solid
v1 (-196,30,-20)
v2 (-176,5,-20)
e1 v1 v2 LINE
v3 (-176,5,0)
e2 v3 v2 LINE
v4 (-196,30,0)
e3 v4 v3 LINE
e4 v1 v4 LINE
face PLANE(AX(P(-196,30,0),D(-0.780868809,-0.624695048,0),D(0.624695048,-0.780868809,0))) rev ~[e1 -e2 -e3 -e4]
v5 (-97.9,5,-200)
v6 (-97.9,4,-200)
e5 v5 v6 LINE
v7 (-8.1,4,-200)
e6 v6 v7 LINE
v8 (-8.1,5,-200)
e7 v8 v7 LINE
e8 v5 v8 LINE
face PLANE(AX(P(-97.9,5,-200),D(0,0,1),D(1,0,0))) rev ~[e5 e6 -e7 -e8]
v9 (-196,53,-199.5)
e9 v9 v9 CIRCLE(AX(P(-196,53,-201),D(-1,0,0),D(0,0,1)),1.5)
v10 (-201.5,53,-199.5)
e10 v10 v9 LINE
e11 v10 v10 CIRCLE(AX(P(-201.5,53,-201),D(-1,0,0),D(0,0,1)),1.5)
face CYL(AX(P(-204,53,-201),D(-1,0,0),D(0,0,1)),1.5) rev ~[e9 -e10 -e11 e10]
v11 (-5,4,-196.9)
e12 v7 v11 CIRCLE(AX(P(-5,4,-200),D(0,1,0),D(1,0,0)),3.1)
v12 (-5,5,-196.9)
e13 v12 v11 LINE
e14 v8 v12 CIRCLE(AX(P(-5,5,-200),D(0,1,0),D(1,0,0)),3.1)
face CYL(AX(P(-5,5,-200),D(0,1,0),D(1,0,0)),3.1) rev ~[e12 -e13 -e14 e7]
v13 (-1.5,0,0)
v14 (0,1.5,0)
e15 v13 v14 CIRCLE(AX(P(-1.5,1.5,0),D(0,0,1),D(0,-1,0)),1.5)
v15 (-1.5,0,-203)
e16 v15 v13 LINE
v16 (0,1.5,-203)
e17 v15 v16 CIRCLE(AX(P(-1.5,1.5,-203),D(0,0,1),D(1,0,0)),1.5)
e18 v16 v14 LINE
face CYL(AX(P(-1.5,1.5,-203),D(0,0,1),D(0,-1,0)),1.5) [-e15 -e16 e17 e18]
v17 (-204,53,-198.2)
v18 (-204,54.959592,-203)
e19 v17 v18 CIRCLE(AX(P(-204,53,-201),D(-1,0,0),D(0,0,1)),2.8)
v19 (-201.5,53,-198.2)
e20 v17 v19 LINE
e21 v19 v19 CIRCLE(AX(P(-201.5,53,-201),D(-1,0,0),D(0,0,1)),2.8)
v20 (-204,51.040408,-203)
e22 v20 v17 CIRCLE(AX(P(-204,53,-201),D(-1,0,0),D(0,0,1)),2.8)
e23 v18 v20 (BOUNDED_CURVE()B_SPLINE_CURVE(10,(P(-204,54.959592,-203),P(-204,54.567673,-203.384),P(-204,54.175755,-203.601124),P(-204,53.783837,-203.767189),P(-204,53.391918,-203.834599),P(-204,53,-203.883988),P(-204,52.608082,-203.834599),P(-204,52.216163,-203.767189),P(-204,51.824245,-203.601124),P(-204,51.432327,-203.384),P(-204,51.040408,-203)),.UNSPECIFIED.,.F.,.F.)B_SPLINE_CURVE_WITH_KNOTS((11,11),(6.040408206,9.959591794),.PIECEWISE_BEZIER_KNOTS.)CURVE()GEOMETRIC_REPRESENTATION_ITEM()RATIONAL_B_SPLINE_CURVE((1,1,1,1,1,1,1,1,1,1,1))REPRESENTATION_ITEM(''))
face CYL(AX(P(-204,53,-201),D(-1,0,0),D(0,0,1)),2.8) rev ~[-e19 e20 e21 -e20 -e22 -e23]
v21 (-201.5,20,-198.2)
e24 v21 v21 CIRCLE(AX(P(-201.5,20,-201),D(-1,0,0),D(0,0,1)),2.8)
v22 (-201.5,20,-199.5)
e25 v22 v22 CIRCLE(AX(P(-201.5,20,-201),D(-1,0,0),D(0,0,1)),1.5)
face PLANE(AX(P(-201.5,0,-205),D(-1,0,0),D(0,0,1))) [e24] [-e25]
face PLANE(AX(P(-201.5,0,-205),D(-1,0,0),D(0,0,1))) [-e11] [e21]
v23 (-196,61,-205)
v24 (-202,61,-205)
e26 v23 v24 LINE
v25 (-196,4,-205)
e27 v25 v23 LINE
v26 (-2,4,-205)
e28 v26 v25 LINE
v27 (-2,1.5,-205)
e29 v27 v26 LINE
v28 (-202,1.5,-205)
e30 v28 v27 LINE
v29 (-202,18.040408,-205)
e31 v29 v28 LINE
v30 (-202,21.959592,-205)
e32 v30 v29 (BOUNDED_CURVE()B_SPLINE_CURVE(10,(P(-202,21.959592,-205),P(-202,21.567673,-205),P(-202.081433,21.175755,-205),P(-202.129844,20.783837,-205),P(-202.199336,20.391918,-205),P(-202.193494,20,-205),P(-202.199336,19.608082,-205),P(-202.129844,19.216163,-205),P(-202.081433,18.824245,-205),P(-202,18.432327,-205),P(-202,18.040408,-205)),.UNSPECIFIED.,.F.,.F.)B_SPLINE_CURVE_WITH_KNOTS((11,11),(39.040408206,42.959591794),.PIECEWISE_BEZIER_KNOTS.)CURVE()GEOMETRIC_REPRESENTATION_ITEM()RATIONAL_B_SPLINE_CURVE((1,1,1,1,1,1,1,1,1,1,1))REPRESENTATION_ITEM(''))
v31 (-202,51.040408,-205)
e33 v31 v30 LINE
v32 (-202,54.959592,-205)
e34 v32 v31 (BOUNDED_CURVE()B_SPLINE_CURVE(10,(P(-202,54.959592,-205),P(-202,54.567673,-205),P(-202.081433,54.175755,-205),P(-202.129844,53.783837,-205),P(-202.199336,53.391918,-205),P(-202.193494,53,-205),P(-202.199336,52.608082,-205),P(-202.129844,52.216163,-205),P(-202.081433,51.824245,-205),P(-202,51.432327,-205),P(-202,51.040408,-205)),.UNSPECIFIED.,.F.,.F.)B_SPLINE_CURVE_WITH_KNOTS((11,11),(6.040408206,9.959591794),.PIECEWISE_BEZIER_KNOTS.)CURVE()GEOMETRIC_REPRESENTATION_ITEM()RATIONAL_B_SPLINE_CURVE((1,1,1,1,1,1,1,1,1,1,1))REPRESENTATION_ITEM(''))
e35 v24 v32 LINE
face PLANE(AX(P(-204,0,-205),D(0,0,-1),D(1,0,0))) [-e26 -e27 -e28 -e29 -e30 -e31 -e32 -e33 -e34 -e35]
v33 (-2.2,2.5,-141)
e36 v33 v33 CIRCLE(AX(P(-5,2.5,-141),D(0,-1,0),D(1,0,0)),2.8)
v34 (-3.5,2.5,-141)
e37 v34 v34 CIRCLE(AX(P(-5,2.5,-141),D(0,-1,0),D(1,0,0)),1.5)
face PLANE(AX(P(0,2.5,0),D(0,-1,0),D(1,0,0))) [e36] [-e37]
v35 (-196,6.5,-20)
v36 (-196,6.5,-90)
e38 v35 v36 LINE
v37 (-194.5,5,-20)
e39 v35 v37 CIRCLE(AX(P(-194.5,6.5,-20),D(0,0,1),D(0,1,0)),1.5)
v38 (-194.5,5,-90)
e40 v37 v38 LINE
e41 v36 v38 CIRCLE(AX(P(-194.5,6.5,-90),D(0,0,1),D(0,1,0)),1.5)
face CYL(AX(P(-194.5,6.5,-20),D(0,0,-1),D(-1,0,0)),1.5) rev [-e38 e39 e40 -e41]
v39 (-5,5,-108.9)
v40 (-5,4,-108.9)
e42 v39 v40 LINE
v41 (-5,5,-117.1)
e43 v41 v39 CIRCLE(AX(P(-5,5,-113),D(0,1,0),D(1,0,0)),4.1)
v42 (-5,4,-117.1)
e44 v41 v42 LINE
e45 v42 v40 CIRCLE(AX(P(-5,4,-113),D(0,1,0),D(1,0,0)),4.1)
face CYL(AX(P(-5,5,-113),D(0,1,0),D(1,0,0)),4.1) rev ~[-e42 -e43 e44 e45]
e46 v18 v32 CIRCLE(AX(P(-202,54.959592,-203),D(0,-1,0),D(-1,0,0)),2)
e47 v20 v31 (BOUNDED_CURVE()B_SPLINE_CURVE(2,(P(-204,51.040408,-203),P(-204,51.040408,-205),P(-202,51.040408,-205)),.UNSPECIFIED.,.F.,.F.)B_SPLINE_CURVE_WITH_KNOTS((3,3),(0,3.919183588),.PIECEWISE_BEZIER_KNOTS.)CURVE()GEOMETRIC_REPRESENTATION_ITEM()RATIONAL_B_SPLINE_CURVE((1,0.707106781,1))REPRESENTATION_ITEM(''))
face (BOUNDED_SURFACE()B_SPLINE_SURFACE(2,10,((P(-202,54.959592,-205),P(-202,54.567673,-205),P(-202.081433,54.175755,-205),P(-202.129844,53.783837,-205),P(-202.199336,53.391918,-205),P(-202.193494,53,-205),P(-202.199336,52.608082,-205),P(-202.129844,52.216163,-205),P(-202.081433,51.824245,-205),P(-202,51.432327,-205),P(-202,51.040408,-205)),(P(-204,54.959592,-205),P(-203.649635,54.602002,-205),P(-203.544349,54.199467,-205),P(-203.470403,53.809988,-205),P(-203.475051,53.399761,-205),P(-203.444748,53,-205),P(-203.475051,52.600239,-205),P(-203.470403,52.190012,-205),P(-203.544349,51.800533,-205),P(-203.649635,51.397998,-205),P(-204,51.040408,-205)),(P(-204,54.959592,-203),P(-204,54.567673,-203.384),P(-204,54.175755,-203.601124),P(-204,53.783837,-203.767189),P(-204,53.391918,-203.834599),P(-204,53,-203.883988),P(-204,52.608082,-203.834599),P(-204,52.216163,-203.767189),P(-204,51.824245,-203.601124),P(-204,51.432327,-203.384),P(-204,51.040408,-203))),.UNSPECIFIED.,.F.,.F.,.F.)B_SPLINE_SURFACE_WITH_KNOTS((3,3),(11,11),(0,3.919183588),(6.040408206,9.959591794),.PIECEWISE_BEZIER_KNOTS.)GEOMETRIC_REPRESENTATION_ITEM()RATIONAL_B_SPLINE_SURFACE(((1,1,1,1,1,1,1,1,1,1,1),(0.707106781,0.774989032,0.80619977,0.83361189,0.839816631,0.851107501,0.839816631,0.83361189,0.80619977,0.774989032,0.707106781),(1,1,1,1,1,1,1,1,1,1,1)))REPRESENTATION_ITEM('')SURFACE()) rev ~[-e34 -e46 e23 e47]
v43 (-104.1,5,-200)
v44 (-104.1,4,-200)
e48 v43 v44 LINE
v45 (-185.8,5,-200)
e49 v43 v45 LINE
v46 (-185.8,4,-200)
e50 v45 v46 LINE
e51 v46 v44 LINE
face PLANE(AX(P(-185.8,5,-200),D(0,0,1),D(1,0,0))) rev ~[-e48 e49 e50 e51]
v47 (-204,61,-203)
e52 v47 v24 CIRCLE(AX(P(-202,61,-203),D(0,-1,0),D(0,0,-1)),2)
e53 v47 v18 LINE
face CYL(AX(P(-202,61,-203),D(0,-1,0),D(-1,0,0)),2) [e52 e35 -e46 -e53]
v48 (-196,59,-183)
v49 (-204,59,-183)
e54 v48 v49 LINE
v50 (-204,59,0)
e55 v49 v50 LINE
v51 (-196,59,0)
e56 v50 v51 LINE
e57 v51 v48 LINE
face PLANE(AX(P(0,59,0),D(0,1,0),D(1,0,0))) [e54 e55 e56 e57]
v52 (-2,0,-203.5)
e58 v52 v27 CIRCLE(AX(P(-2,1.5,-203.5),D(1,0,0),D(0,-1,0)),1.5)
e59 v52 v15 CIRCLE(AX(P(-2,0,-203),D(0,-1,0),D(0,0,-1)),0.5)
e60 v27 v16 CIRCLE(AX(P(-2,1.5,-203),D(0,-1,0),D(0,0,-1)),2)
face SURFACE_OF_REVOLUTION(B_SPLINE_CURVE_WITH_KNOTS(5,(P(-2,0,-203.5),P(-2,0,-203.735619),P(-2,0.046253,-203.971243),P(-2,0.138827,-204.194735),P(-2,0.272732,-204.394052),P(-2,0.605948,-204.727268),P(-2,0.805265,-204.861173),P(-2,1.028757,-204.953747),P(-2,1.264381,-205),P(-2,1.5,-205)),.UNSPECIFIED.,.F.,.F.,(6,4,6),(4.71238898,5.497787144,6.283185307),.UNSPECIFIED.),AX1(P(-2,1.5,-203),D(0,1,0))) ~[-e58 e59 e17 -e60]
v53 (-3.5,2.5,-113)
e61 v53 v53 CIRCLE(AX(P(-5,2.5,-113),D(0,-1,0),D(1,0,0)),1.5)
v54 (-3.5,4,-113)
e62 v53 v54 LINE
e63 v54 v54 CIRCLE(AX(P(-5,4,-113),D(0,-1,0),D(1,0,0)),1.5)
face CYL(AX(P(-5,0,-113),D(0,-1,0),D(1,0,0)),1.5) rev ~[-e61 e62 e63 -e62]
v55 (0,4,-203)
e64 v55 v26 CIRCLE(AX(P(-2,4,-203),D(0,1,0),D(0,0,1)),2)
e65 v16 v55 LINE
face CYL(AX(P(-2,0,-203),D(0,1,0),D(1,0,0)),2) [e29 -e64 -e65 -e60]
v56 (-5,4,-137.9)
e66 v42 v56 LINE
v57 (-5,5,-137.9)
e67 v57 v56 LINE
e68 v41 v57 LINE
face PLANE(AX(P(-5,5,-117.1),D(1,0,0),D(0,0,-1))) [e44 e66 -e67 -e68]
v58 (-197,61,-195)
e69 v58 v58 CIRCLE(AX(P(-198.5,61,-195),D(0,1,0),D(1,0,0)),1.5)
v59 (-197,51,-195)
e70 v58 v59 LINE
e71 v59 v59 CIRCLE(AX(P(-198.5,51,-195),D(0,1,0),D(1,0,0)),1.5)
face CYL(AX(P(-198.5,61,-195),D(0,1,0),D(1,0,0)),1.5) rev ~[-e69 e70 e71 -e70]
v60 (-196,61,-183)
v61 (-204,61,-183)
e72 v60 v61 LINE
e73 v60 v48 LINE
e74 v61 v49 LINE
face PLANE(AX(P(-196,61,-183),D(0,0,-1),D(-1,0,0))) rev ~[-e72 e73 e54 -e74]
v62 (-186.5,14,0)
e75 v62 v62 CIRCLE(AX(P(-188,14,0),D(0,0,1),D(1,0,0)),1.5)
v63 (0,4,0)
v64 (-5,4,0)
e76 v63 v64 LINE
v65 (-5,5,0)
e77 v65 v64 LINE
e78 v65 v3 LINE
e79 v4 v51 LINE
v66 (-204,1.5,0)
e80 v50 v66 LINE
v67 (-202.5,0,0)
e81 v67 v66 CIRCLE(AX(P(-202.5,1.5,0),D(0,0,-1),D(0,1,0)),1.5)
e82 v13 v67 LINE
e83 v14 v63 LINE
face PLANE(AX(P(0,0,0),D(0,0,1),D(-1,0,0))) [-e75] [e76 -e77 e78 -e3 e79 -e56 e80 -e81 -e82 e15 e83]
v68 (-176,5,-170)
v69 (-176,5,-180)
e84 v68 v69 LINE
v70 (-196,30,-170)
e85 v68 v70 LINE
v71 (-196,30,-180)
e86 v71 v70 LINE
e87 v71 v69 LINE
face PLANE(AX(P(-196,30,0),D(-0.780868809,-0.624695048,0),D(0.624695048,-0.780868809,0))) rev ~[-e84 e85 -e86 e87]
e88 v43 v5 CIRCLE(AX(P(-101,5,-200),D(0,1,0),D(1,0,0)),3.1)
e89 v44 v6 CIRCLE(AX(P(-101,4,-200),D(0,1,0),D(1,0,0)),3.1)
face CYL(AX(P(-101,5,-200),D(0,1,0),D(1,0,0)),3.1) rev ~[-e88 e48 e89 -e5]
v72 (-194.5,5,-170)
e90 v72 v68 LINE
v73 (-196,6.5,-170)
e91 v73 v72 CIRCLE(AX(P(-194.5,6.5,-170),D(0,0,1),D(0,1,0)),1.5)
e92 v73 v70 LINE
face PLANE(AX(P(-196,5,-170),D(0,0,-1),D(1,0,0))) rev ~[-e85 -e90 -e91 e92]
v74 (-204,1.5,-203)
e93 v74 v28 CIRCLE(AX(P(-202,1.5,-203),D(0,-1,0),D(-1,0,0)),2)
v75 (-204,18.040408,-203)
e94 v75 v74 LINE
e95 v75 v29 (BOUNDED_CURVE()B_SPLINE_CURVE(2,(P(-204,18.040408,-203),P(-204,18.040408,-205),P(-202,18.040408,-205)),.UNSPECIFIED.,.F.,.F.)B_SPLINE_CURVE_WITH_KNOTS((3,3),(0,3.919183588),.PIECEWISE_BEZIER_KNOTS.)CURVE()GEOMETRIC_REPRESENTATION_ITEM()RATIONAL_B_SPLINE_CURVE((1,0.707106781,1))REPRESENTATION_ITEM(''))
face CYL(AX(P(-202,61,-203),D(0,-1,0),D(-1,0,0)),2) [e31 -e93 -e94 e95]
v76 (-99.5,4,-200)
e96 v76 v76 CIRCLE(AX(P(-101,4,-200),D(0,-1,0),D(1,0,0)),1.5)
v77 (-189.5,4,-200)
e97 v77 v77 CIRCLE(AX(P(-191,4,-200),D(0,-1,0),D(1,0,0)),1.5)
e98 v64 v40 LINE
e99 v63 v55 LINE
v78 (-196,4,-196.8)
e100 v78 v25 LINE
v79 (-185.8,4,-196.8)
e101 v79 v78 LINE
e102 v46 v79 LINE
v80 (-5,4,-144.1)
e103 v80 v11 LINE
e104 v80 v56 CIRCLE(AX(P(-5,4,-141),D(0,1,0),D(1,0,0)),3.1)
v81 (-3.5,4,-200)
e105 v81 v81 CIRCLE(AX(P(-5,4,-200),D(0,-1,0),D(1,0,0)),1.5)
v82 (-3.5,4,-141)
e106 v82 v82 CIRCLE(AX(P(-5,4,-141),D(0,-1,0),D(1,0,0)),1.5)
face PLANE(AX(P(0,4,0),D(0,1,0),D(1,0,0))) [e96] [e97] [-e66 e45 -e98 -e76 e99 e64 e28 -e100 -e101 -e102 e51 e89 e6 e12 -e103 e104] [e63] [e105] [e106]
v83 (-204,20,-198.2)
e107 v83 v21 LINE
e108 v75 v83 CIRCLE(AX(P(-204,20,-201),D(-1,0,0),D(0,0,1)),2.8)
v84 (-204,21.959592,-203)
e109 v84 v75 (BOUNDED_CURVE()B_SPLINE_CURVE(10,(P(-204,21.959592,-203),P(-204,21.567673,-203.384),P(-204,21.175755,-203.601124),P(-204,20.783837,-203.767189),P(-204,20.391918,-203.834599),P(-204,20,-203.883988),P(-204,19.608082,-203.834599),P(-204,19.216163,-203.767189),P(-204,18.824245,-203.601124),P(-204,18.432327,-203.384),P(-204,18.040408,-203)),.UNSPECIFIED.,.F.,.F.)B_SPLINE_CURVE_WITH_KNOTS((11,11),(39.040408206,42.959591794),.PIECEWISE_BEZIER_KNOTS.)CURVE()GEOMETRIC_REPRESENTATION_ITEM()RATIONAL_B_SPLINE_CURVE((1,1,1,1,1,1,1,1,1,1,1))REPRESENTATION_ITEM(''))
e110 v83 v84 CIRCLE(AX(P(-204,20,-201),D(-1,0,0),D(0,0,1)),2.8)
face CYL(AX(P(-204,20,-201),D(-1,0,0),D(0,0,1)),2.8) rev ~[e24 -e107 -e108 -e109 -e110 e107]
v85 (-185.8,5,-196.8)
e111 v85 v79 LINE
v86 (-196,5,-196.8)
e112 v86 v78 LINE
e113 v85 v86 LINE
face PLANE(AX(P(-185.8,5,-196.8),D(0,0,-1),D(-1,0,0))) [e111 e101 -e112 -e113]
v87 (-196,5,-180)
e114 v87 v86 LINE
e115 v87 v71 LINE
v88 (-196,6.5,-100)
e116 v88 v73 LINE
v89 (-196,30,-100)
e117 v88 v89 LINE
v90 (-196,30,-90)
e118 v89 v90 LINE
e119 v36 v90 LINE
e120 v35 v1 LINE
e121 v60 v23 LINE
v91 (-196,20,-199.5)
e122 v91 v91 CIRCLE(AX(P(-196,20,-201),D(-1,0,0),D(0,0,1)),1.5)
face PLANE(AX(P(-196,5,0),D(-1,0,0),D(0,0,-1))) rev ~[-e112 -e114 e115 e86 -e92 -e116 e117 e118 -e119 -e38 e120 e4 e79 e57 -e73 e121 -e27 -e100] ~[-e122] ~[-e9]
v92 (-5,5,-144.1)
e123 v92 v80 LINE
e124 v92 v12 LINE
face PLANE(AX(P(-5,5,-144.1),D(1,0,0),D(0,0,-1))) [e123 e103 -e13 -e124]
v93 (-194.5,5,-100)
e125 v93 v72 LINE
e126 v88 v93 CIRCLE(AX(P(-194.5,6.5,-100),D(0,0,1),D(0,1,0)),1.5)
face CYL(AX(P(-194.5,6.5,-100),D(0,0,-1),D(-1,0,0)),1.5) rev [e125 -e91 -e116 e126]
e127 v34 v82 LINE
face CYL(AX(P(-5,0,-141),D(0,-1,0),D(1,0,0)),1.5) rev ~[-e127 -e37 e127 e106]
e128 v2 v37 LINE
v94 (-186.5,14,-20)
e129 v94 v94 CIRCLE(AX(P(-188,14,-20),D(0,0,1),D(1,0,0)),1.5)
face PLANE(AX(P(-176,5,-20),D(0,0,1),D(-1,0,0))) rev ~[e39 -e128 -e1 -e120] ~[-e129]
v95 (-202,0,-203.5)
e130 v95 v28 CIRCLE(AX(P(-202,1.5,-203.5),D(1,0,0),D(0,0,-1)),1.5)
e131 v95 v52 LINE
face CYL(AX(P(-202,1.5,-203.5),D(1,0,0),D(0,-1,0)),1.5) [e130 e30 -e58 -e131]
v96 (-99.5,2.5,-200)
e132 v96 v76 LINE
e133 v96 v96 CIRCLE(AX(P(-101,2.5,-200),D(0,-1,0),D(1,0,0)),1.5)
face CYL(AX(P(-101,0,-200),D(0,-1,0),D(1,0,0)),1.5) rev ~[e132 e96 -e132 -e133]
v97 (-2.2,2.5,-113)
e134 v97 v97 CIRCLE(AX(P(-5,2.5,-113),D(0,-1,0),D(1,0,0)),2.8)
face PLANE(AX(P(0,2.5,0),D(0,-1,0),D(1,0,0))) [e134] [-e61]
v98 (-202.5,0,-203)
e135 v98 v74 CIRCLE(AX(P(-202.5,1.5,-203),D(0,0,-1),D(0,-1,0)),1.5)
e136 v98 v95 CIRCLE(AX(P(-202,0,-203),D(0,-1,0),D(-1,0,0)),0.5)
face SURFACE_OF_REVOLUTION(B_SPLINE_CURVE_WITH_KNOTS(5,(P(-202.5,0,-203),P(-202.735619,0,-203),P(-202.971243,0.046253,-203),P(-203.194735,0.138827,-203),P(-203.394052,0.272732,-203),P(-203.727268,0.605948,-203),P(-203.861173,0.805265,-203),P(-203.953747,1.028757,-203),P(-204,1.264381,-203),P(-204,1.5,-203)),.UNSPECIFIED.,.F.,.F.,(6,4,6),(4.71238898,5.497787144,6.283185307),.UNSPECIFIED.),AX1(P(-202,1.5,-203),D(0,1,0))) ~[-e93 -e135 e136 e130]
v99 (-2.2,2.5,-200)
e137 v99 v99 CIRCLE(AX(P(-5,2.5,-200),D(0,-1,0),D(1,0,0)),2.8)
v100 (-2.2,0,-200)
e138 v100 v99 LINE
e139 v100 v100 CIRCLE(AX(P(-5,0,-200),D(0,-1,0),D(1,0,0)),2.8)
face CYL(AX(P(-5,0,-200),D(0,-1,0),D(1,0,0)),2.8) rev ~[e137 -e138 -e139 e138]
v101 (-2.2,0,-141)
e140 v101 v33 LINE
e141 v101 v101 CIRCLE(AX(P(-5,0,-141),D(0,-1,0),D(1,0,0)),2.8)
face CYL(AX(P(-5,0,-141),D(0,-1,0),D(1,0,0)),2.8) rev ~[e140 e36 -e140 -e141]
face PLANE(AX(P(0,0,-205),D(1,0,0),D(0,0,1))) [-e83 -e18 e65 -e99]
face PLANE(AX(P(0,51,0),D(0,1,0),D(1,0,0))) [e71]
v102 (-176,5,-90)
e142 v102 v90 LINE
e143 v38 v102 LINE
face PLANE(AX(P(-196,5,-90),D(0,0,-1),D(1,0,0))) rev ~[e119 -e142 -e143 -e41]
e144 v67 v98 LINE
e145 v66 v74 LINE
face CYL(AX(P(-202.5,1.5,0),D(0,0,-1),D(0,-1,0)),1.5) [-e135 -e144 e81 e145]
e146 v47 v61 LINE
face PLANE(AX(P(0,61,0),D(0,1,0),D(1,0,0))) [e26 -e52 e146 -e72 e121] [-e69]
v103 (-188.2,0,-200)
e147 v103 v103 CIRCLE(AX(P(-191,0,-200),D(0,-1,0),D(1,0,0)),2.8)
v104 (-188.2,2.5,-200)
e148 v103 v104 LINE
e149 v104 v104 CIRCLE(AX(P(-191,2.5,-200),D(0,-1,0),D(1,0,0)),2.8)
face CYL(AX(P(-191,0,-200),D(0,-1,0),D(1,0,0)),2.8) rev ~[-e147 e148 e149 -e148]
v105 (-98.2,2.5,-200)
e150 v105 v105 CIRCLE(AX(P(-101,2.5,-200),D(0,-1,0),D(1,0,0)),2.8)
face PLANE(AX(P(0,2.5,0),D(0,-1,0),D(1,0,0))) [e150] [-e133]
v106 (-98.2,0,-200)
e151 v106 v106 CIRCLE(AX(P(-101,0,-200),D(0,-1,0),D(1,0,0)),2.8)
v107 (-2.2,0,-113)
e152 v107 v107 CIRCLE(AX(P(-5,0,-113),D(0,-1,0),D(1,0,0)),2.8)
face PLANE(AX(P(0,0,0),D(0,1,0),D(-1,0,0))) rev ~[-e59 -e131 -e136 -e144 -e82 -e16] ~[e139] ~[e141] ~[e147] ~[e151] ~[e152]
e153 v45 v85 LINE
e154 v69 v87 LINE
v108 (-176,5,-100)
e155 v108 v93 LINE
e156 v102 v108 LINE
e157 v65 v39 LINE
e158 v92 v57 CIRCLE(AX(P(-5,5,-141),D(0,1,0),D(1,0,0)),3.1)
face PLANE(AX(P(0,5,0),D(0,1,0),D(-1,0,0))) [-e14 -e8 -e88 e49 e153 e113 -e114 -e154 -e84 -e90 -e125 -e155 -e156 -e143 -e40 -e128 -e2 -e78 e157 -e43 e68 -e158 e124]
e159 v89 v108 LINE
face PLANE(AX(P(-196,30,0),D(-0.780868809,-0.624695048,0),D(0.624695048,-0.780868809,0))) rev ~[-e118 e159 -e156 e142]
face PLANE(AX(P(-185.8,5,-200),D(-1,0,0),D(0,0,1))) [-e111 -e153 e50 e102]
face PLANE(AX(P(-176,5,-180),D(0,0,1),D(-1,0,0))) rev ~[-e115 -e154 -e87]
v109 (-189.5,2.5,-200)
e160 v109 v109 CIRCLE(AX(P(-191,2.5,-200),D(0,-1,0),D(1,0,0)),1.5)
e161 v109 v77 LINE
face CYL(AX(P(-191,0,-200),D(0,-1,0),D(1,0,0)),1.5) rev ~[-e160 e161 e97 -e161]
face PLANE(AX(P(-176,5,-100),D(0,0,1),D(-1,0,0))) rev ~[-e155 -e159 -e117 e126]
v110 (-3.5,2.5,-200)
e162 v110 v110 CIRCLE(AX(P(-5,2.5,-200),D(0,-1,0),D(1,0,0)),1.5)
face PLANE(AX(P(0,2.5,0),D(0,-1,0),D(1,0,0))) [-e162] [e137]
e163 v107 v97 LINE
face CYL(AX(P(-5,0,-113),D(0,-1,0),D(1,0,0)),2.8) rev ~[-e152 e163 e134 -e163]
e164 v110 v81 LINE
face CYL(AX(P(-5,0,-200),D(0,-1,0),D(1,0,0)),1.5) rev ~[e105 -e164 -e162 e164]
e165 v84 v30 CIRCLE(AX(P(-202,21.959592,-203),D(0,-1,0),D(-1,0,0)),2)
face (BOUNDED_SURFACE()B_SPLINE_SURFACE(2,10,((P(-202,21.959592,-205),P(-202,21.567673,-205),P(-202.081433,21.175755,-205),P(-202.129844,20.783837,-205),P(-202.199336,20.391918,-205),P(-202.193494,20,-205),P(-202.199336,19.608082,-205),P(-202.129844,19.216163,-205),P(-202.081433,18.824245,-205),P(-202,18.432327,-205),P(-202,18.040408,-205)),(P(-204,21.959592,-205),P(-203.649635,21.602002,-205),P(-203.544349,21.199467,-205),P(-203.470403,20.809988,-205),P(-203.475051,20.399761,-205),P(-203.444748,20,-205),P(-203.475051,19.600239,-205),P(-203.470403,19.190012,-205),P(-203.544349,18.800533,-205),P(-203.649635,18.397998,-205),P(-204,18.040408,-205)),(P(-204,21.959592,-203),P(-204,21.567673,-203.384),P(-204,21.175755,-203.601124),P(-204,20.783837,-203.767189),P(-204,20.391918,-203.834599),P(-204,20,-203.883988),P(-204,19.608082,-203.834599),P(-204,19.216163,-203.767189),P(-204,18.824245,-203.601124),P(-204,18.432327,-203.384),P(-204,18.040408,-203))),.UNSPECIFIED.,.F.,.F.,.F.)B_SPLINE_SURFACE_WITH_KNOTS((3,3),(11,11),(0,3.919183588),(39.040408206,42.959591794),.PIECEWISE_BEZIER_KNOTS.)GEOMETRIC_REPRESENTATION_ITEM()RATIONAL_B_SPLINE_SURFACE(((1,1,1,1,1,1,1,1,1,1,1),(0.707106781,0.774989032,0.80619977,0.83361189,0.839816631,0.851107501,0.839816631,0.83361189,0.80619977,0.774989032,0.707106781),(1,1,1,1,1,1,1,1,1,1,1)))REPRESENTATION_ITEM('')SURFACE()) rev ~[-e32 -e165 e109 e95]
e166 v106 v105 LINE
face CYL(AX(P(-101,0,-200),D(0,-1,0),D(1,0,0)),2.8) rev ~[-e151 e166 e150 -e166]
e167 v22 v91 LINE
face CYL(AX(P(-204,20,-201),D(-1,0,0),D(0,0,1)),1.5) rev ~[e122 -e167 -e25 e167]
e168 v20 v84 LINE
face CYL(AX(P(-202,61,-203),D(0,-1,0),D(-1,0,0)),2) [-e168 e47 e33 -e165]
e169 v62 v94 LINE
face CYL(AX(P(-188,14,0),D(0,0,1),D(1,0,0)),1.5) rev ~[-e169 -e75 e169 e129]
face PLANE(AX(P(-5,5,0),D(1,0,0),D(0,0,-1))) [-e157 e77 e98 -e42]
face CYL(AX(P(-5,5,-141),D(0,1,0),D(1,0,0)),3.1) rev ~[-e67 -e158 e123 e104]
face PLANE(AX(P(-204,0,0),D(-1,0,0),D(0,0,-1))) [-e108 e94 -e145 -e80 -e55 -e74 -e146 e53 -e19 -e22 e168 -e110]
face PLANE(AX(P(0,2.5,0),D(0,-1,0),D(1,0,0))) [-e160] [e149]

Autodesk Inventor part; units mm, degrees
ref_plane "YZ Plane" through (0, 0, 0) normal (1, 0, 0) x (0, 1, 0)
ref_plane "XZ Plane" through (0, 0, 0) normal (0, 1, 0) x (-1, 0, 0)
ref_plane "XY Plane" through (0, 0, 0) normal (0, 0, 1) x (1, 0, 0)
sketch "スケッチ1" plane through (0, 0, 0) normal (0, 1, 0) x (-1, 0, 0)
  line L0 (0, 0) -> (204, 0)
  line L1 (204, 0) -> (204, -205)
  line L2 (204, -205) -> (0, -205)
  line L3 (0, -205) -> (0, 0)
  dimension "d0" = 204
  dimension "d1" = 205
extrude "押し出し1" add sketch "スケッチ1" along normal blind 5
sketch "スケッチ2" plane through (0, 5, 0) normal (0, 1, 0) x (1, 0, 0)
  line L0 (-204, 205) -> (-204, 0) projected
  line L1 (0, 205) -> (-204, 205) projected
  line L2 (-204, 0) -> (-196, 0)
  line L3 (-196, 0) -> (-196, 205)
  line L4 (-196, 205) -> (-204, 205)
  line L5 (-204, 205) -> (-204, 0)
  point P0 (0, 0)
  dimension "d4" = 8
extrude "押し出し2" add sketch "スケッチ2" along normal blind 56
sketch "スケッチ3" plane through (0, 61, 0) normal (0, 1, 0) x (1, 0, 0)
  line L0 (-204, 205) -> (-204, 0) projected
  line L1 (-196, 0) -> (-196, 205) projected
  line L2 (-204, 0) -> (-196, 0)
  line L3 (-196, 0) -> (-196, 183)
  line L4 (-196, 183) -> (-204, 183)
  line L5 (-204, 183) -> (-204, 0)
  line L6 (-196, 205) -> (-204, 205) projected
  point P0 (0, 0)
  point P1 (-200, 183)
  dimension "d7" = 22
extrude "押し出し3" cut sketch "スケッチ3" against normal blind 2 contours L4 L1 L2 L0
sketch "スケッチ4" plane through (0, 61, 0) normal (0, 1, 0) x (1, 0, 0)
  circle A0 centre (-198.5, 195) radius 1.5
  line L0 (-196, 205) -> (-204, 205) projected
  line L1 (-196, 183) -> (-196, 205) projected
  line L2 (-204, 205) -> (-204, 183) projected
  point P0 (0, 0)
  dimension "d10" = 3
  dimension "d11" = 10
  dimension "d13" = 5.5
extrude "押し出し4" cut sketch "スケッチ4" against normal blind 10
sketch "スケッチ5" plane through (-204, 0, -205) normal (-1, 0, 0) x (0, 0, 1)
  circle A0 centre (4, 53) radius 1.5
  circle A1 centre (4, 20) radius 1.5
  line L0 (0, 61) -> (22, 61) projected
  line L1 (0, 0) -> (0, 61) projected
  point P0 (205, 0)
  dimension "d16" = 3
  dimension "d17" = 3
  dimension "d18" = 8
  dimension "d19" = 33
  dimension "d24" = 4
extrude "押し出し5" cut sketch "スケッチ5" against normal blind 10
sketch "スケッチ6" plane through (-204, 0, -205) normal (-1, 0, 0) x (0, 0, 1)
  circle A0 centre (4, 53) radius 1.5 projected
  circle A1 centre (4, 53) radius 2.8
  circle A2 centre (4, 20) radius 1.5 projected
  circle A3 centre (4, 20) radius 2.8
  point P0 (205, 0)
  dimension "d22" = 5.6
  dimension "d23" = 5.6
extrude "押し出し6" cut sketch "スケッチ6" against normal blind 2.5
sketch "スケッチ7" plane through (0, 0, 0) normal (0, -1, 0) x (1, 0, 0)
  circle A0 centre (-191, -200) radius 1.5
  circle A1 centre (-101, -200) radius 1.5
  circle A2 centre (-5, -200) radius 1.5
  line L0 (-204, 0) -> (0, 0) projected
  line L1 (0, 0) -> (0, -205) projected
  circle A3 centre (-5, -141) radius 1.5
  circle A4 centre (-5, -113) radius 1.5
  line L2 (0, -205) -> (-204, -205) projected
  dimension "d27" = 3
  dimension "d28" = 3
  dimension "d29" = 3
  dimension "d31" = 5
  dimension "d32" = 96
  dimension "d33" = 90
  dimension "d34" = 3
  dimension "d36" = 3
  dimension "d37" = 5
  dimension "d38" = 59
  dimension "d39" = 28
extrude "押し出し7" cut sketch "スケッチ7" against normal through all
sketch "スケッチ8" plane through (0, 0, 0) normal (0, -1, 0) x (1, 0, 0)
  circle A0 centre (-5, -113) radius 1.5 projected
  circle A1 centre (-5, -113) radius 2.8
  circle A2 centre (-5, -141) radius 1.5 projected
  circle A3 centre (-5, -141) radius 2.8
  circle A4 centre (-5, -200) radius 1.5 projected
  circle A5 centre (-5, -200) radius 2.8
  circle A6 centre (-101, -200) radius 1.5 projected
  circle A7 centre (-101, -200) radius 2.8
  circle A8 centre (-191, -200) radius 1.5 projected
  circle A9 centre (-191, -200) radius 2.8
  point P0 (0, 0)
  dimension "d42" = 5.6
  dimension "d43" = 5.6
  dimension "d44" = 5.6
  dimension "d45" = 5.6
  dimension "d46" = 5.6
extrude "押し出し8" cut sketch "スケッチ8" against normal blind 2.5
sketch "スケッチ9" plane through (0, 5, 0) normal (0, 1, 0) x (1, 0, 0)
  line L0 (0, 205) -> (-204, 205) projected
  line L1 (0, 0) -> (-5, 0)
  line L2 (-5, 0) -> (-5, 205)
  line L3 (-5, 205) -> (0, 205)
  line L4 (0, 205) -> (0, 0)
  line L5 (-196, 183) -> (-196, 205) projected
  line L6 (0, 205) -> (-196, 205)
  line L7 (-196, 205) -> (-196, 200)
  line L8 (-196, 200) -> (0, 200)
  line L9 (0, 200) -> (0, 205)
  circle A0 centre (-5, 141) radius 1.5 projected
  circle A1 centre (-5, 141) radius 3.1
  circle A2 centre (-5, 113) radius 1.5 projected
  circle A3 centre (-5, 113) radius 4.1
  circle A4 centre (-5, 200) radius 1.5 projected
  circle A5 centre (-5, 200) radius 3.1
  line L10 (-196, 205) -> (-185.8, 205)
  line L11 (-185.8, 205) -> (-185.8, 196.8)
  line L12 (-185.8, 196.8) -> (-196, 196.8)
  line L13 (-196, 196.8) -> (-196, 205)
  circle A6 centre (-101, 200) radius 1.5 projected
  circle A7 centre (-101, 200) radius 3.1
  point P0 (-5, 137.9)
  point P1 (-5, 117.1)
  point P2 (-5, 108.9)
  point P3 (-185.8, 200)
  point P4 (-8.1, 200)
  point P5 (-5, 196.9)
  point P6 (-5, 144.1)
  point P7 (-104.1, 200)
  point P8 (-97.9, 200)
  point P9 (-99.5, 200)
  point P10 (-102.5, 200)
  dimension "d49" = 5
  dimension "d50" = 5
  dimension "d51" = 6.2
  dimension "d52" = 8.2
  dimension "d53" = 6.2
  dimension "d54" = 10.2
  dimension "d55" = 8.2
  dimension "d58" = 6.2
extrude "押し出し9" cut sketch "スケッチ9" against normal blind 1 contours L4 L8 A5 L2 L0 | L2 A5 L8 A7 L11 L0 | L4 L1 L2 A3 A1 A5 L8 | L11 L8 L5 L0 | A5 L8 A4 L2 | L2 A4 L8 A5 | A5 L2 A4 L8 | L11 L12 L5 L8 | A4 L8 L2 | L2 L8 A4 | L8 A4 L2 A5 | A4 L2 L8 | A7 L8 A6 | L8 A6 A7 | L2 A4 L8 | A3 L2 A2 | L2 A2 A3 | A1 L2 A0 | L2 A0 A1 | A6 L8 | A2 L2 | L2 A2 | A0 L2 | L2 A0 picked at (-100.9397, 200.4964)
sketch "スケッチ10" plane through (0, 5, 0) normal (0, 1, 0) x (1, 0, 0)
  line L0 (-196, 0) -> (-176, 0)
  line L1 (-176, 0) -> (-176, 20)
  line L2 (-176, 20) -> (-196, 20)
  line L3 (-196, 20) -> (-196, 0)
  line L4 (-196, 196.8) -> (-196, 0) projected
  line L5 (-196, 90) -> (-176, 90)
  line L6 (-176, 90) -> (-176, 100)
  line L7 (-176, 100) -> (-196, 100)
  line L8 (-196, 100) -> (-196, 90)
  line L9 (-196, 170) -> (-176, 170)
  line L10 (-176, 170) -> (-176, 180)
  line L11 (-176, 180) -> (-196, 180)
  line L12 (-196, 180) -> (-196, 170)
  point P0 (0, 0)
  dimension "d59" = 20
  dimension "d60" = 20
  dimension "d61" = 20
  dimension "d62" = 10
  dimension "d63" = 70
  dimension "d64" = 20
  dimension "d65" = 10
  dimension "d66" = 70
extrude "押し出し10" add sketch "スケッチ10" along normal blind 25
sketch "スケッチ11" plane through (-204, 0, 0) normal (0, 0, 1) x (1, 0, 0)
  line L0 (8, 30) -> (8, 5) projected
  line L1 (28, 5) -> (28, 30) projected
  line L2 (8, 30) -> (28, 5)
  line L3 (28, 5) -> (28, 30)
  line L4 (28, 30) -> (8, 30)
  point P0 (204, 0)
extrude "押し出し11" cut sketch "スケッチ11" against normal through all
sketch "スケッチ12" plane through (-204, 0, 0) normal (0, 0, 1) x (1, 0, 0)
  circle A0 centre (16, 14) radius 1.5
  line L0 (0, 0) -> (0, 59) projected
  line L1 (8, 30) -> (8, 5) projected
  line L2 (8, 5) -> (28, 5) projected
  point P0 (204, 0)
  dimension "d71" = 3
  dimension "d73" = 8
  dimension "d74" = 9
extrude "押し出し12" cut sketch "スケッチ12" against normal blind 25
fillet "フィレット1" radius 2 2 edges at (-204, 30.5, -205) (0, 2, -205)
fillet "フィレット2" radius 1.5 4 edges at (-203.4142, 0, -204.4142) (-102, 0, -205) (-204, 0, -101.5) (0, 0, -101.5)
fillet "フィレット3" radius 1.5 2 edges at (-196, 5, -135) (-196, 5, -55)
properties part number "オンゲキボタン_bottom_right_3D プリント"
